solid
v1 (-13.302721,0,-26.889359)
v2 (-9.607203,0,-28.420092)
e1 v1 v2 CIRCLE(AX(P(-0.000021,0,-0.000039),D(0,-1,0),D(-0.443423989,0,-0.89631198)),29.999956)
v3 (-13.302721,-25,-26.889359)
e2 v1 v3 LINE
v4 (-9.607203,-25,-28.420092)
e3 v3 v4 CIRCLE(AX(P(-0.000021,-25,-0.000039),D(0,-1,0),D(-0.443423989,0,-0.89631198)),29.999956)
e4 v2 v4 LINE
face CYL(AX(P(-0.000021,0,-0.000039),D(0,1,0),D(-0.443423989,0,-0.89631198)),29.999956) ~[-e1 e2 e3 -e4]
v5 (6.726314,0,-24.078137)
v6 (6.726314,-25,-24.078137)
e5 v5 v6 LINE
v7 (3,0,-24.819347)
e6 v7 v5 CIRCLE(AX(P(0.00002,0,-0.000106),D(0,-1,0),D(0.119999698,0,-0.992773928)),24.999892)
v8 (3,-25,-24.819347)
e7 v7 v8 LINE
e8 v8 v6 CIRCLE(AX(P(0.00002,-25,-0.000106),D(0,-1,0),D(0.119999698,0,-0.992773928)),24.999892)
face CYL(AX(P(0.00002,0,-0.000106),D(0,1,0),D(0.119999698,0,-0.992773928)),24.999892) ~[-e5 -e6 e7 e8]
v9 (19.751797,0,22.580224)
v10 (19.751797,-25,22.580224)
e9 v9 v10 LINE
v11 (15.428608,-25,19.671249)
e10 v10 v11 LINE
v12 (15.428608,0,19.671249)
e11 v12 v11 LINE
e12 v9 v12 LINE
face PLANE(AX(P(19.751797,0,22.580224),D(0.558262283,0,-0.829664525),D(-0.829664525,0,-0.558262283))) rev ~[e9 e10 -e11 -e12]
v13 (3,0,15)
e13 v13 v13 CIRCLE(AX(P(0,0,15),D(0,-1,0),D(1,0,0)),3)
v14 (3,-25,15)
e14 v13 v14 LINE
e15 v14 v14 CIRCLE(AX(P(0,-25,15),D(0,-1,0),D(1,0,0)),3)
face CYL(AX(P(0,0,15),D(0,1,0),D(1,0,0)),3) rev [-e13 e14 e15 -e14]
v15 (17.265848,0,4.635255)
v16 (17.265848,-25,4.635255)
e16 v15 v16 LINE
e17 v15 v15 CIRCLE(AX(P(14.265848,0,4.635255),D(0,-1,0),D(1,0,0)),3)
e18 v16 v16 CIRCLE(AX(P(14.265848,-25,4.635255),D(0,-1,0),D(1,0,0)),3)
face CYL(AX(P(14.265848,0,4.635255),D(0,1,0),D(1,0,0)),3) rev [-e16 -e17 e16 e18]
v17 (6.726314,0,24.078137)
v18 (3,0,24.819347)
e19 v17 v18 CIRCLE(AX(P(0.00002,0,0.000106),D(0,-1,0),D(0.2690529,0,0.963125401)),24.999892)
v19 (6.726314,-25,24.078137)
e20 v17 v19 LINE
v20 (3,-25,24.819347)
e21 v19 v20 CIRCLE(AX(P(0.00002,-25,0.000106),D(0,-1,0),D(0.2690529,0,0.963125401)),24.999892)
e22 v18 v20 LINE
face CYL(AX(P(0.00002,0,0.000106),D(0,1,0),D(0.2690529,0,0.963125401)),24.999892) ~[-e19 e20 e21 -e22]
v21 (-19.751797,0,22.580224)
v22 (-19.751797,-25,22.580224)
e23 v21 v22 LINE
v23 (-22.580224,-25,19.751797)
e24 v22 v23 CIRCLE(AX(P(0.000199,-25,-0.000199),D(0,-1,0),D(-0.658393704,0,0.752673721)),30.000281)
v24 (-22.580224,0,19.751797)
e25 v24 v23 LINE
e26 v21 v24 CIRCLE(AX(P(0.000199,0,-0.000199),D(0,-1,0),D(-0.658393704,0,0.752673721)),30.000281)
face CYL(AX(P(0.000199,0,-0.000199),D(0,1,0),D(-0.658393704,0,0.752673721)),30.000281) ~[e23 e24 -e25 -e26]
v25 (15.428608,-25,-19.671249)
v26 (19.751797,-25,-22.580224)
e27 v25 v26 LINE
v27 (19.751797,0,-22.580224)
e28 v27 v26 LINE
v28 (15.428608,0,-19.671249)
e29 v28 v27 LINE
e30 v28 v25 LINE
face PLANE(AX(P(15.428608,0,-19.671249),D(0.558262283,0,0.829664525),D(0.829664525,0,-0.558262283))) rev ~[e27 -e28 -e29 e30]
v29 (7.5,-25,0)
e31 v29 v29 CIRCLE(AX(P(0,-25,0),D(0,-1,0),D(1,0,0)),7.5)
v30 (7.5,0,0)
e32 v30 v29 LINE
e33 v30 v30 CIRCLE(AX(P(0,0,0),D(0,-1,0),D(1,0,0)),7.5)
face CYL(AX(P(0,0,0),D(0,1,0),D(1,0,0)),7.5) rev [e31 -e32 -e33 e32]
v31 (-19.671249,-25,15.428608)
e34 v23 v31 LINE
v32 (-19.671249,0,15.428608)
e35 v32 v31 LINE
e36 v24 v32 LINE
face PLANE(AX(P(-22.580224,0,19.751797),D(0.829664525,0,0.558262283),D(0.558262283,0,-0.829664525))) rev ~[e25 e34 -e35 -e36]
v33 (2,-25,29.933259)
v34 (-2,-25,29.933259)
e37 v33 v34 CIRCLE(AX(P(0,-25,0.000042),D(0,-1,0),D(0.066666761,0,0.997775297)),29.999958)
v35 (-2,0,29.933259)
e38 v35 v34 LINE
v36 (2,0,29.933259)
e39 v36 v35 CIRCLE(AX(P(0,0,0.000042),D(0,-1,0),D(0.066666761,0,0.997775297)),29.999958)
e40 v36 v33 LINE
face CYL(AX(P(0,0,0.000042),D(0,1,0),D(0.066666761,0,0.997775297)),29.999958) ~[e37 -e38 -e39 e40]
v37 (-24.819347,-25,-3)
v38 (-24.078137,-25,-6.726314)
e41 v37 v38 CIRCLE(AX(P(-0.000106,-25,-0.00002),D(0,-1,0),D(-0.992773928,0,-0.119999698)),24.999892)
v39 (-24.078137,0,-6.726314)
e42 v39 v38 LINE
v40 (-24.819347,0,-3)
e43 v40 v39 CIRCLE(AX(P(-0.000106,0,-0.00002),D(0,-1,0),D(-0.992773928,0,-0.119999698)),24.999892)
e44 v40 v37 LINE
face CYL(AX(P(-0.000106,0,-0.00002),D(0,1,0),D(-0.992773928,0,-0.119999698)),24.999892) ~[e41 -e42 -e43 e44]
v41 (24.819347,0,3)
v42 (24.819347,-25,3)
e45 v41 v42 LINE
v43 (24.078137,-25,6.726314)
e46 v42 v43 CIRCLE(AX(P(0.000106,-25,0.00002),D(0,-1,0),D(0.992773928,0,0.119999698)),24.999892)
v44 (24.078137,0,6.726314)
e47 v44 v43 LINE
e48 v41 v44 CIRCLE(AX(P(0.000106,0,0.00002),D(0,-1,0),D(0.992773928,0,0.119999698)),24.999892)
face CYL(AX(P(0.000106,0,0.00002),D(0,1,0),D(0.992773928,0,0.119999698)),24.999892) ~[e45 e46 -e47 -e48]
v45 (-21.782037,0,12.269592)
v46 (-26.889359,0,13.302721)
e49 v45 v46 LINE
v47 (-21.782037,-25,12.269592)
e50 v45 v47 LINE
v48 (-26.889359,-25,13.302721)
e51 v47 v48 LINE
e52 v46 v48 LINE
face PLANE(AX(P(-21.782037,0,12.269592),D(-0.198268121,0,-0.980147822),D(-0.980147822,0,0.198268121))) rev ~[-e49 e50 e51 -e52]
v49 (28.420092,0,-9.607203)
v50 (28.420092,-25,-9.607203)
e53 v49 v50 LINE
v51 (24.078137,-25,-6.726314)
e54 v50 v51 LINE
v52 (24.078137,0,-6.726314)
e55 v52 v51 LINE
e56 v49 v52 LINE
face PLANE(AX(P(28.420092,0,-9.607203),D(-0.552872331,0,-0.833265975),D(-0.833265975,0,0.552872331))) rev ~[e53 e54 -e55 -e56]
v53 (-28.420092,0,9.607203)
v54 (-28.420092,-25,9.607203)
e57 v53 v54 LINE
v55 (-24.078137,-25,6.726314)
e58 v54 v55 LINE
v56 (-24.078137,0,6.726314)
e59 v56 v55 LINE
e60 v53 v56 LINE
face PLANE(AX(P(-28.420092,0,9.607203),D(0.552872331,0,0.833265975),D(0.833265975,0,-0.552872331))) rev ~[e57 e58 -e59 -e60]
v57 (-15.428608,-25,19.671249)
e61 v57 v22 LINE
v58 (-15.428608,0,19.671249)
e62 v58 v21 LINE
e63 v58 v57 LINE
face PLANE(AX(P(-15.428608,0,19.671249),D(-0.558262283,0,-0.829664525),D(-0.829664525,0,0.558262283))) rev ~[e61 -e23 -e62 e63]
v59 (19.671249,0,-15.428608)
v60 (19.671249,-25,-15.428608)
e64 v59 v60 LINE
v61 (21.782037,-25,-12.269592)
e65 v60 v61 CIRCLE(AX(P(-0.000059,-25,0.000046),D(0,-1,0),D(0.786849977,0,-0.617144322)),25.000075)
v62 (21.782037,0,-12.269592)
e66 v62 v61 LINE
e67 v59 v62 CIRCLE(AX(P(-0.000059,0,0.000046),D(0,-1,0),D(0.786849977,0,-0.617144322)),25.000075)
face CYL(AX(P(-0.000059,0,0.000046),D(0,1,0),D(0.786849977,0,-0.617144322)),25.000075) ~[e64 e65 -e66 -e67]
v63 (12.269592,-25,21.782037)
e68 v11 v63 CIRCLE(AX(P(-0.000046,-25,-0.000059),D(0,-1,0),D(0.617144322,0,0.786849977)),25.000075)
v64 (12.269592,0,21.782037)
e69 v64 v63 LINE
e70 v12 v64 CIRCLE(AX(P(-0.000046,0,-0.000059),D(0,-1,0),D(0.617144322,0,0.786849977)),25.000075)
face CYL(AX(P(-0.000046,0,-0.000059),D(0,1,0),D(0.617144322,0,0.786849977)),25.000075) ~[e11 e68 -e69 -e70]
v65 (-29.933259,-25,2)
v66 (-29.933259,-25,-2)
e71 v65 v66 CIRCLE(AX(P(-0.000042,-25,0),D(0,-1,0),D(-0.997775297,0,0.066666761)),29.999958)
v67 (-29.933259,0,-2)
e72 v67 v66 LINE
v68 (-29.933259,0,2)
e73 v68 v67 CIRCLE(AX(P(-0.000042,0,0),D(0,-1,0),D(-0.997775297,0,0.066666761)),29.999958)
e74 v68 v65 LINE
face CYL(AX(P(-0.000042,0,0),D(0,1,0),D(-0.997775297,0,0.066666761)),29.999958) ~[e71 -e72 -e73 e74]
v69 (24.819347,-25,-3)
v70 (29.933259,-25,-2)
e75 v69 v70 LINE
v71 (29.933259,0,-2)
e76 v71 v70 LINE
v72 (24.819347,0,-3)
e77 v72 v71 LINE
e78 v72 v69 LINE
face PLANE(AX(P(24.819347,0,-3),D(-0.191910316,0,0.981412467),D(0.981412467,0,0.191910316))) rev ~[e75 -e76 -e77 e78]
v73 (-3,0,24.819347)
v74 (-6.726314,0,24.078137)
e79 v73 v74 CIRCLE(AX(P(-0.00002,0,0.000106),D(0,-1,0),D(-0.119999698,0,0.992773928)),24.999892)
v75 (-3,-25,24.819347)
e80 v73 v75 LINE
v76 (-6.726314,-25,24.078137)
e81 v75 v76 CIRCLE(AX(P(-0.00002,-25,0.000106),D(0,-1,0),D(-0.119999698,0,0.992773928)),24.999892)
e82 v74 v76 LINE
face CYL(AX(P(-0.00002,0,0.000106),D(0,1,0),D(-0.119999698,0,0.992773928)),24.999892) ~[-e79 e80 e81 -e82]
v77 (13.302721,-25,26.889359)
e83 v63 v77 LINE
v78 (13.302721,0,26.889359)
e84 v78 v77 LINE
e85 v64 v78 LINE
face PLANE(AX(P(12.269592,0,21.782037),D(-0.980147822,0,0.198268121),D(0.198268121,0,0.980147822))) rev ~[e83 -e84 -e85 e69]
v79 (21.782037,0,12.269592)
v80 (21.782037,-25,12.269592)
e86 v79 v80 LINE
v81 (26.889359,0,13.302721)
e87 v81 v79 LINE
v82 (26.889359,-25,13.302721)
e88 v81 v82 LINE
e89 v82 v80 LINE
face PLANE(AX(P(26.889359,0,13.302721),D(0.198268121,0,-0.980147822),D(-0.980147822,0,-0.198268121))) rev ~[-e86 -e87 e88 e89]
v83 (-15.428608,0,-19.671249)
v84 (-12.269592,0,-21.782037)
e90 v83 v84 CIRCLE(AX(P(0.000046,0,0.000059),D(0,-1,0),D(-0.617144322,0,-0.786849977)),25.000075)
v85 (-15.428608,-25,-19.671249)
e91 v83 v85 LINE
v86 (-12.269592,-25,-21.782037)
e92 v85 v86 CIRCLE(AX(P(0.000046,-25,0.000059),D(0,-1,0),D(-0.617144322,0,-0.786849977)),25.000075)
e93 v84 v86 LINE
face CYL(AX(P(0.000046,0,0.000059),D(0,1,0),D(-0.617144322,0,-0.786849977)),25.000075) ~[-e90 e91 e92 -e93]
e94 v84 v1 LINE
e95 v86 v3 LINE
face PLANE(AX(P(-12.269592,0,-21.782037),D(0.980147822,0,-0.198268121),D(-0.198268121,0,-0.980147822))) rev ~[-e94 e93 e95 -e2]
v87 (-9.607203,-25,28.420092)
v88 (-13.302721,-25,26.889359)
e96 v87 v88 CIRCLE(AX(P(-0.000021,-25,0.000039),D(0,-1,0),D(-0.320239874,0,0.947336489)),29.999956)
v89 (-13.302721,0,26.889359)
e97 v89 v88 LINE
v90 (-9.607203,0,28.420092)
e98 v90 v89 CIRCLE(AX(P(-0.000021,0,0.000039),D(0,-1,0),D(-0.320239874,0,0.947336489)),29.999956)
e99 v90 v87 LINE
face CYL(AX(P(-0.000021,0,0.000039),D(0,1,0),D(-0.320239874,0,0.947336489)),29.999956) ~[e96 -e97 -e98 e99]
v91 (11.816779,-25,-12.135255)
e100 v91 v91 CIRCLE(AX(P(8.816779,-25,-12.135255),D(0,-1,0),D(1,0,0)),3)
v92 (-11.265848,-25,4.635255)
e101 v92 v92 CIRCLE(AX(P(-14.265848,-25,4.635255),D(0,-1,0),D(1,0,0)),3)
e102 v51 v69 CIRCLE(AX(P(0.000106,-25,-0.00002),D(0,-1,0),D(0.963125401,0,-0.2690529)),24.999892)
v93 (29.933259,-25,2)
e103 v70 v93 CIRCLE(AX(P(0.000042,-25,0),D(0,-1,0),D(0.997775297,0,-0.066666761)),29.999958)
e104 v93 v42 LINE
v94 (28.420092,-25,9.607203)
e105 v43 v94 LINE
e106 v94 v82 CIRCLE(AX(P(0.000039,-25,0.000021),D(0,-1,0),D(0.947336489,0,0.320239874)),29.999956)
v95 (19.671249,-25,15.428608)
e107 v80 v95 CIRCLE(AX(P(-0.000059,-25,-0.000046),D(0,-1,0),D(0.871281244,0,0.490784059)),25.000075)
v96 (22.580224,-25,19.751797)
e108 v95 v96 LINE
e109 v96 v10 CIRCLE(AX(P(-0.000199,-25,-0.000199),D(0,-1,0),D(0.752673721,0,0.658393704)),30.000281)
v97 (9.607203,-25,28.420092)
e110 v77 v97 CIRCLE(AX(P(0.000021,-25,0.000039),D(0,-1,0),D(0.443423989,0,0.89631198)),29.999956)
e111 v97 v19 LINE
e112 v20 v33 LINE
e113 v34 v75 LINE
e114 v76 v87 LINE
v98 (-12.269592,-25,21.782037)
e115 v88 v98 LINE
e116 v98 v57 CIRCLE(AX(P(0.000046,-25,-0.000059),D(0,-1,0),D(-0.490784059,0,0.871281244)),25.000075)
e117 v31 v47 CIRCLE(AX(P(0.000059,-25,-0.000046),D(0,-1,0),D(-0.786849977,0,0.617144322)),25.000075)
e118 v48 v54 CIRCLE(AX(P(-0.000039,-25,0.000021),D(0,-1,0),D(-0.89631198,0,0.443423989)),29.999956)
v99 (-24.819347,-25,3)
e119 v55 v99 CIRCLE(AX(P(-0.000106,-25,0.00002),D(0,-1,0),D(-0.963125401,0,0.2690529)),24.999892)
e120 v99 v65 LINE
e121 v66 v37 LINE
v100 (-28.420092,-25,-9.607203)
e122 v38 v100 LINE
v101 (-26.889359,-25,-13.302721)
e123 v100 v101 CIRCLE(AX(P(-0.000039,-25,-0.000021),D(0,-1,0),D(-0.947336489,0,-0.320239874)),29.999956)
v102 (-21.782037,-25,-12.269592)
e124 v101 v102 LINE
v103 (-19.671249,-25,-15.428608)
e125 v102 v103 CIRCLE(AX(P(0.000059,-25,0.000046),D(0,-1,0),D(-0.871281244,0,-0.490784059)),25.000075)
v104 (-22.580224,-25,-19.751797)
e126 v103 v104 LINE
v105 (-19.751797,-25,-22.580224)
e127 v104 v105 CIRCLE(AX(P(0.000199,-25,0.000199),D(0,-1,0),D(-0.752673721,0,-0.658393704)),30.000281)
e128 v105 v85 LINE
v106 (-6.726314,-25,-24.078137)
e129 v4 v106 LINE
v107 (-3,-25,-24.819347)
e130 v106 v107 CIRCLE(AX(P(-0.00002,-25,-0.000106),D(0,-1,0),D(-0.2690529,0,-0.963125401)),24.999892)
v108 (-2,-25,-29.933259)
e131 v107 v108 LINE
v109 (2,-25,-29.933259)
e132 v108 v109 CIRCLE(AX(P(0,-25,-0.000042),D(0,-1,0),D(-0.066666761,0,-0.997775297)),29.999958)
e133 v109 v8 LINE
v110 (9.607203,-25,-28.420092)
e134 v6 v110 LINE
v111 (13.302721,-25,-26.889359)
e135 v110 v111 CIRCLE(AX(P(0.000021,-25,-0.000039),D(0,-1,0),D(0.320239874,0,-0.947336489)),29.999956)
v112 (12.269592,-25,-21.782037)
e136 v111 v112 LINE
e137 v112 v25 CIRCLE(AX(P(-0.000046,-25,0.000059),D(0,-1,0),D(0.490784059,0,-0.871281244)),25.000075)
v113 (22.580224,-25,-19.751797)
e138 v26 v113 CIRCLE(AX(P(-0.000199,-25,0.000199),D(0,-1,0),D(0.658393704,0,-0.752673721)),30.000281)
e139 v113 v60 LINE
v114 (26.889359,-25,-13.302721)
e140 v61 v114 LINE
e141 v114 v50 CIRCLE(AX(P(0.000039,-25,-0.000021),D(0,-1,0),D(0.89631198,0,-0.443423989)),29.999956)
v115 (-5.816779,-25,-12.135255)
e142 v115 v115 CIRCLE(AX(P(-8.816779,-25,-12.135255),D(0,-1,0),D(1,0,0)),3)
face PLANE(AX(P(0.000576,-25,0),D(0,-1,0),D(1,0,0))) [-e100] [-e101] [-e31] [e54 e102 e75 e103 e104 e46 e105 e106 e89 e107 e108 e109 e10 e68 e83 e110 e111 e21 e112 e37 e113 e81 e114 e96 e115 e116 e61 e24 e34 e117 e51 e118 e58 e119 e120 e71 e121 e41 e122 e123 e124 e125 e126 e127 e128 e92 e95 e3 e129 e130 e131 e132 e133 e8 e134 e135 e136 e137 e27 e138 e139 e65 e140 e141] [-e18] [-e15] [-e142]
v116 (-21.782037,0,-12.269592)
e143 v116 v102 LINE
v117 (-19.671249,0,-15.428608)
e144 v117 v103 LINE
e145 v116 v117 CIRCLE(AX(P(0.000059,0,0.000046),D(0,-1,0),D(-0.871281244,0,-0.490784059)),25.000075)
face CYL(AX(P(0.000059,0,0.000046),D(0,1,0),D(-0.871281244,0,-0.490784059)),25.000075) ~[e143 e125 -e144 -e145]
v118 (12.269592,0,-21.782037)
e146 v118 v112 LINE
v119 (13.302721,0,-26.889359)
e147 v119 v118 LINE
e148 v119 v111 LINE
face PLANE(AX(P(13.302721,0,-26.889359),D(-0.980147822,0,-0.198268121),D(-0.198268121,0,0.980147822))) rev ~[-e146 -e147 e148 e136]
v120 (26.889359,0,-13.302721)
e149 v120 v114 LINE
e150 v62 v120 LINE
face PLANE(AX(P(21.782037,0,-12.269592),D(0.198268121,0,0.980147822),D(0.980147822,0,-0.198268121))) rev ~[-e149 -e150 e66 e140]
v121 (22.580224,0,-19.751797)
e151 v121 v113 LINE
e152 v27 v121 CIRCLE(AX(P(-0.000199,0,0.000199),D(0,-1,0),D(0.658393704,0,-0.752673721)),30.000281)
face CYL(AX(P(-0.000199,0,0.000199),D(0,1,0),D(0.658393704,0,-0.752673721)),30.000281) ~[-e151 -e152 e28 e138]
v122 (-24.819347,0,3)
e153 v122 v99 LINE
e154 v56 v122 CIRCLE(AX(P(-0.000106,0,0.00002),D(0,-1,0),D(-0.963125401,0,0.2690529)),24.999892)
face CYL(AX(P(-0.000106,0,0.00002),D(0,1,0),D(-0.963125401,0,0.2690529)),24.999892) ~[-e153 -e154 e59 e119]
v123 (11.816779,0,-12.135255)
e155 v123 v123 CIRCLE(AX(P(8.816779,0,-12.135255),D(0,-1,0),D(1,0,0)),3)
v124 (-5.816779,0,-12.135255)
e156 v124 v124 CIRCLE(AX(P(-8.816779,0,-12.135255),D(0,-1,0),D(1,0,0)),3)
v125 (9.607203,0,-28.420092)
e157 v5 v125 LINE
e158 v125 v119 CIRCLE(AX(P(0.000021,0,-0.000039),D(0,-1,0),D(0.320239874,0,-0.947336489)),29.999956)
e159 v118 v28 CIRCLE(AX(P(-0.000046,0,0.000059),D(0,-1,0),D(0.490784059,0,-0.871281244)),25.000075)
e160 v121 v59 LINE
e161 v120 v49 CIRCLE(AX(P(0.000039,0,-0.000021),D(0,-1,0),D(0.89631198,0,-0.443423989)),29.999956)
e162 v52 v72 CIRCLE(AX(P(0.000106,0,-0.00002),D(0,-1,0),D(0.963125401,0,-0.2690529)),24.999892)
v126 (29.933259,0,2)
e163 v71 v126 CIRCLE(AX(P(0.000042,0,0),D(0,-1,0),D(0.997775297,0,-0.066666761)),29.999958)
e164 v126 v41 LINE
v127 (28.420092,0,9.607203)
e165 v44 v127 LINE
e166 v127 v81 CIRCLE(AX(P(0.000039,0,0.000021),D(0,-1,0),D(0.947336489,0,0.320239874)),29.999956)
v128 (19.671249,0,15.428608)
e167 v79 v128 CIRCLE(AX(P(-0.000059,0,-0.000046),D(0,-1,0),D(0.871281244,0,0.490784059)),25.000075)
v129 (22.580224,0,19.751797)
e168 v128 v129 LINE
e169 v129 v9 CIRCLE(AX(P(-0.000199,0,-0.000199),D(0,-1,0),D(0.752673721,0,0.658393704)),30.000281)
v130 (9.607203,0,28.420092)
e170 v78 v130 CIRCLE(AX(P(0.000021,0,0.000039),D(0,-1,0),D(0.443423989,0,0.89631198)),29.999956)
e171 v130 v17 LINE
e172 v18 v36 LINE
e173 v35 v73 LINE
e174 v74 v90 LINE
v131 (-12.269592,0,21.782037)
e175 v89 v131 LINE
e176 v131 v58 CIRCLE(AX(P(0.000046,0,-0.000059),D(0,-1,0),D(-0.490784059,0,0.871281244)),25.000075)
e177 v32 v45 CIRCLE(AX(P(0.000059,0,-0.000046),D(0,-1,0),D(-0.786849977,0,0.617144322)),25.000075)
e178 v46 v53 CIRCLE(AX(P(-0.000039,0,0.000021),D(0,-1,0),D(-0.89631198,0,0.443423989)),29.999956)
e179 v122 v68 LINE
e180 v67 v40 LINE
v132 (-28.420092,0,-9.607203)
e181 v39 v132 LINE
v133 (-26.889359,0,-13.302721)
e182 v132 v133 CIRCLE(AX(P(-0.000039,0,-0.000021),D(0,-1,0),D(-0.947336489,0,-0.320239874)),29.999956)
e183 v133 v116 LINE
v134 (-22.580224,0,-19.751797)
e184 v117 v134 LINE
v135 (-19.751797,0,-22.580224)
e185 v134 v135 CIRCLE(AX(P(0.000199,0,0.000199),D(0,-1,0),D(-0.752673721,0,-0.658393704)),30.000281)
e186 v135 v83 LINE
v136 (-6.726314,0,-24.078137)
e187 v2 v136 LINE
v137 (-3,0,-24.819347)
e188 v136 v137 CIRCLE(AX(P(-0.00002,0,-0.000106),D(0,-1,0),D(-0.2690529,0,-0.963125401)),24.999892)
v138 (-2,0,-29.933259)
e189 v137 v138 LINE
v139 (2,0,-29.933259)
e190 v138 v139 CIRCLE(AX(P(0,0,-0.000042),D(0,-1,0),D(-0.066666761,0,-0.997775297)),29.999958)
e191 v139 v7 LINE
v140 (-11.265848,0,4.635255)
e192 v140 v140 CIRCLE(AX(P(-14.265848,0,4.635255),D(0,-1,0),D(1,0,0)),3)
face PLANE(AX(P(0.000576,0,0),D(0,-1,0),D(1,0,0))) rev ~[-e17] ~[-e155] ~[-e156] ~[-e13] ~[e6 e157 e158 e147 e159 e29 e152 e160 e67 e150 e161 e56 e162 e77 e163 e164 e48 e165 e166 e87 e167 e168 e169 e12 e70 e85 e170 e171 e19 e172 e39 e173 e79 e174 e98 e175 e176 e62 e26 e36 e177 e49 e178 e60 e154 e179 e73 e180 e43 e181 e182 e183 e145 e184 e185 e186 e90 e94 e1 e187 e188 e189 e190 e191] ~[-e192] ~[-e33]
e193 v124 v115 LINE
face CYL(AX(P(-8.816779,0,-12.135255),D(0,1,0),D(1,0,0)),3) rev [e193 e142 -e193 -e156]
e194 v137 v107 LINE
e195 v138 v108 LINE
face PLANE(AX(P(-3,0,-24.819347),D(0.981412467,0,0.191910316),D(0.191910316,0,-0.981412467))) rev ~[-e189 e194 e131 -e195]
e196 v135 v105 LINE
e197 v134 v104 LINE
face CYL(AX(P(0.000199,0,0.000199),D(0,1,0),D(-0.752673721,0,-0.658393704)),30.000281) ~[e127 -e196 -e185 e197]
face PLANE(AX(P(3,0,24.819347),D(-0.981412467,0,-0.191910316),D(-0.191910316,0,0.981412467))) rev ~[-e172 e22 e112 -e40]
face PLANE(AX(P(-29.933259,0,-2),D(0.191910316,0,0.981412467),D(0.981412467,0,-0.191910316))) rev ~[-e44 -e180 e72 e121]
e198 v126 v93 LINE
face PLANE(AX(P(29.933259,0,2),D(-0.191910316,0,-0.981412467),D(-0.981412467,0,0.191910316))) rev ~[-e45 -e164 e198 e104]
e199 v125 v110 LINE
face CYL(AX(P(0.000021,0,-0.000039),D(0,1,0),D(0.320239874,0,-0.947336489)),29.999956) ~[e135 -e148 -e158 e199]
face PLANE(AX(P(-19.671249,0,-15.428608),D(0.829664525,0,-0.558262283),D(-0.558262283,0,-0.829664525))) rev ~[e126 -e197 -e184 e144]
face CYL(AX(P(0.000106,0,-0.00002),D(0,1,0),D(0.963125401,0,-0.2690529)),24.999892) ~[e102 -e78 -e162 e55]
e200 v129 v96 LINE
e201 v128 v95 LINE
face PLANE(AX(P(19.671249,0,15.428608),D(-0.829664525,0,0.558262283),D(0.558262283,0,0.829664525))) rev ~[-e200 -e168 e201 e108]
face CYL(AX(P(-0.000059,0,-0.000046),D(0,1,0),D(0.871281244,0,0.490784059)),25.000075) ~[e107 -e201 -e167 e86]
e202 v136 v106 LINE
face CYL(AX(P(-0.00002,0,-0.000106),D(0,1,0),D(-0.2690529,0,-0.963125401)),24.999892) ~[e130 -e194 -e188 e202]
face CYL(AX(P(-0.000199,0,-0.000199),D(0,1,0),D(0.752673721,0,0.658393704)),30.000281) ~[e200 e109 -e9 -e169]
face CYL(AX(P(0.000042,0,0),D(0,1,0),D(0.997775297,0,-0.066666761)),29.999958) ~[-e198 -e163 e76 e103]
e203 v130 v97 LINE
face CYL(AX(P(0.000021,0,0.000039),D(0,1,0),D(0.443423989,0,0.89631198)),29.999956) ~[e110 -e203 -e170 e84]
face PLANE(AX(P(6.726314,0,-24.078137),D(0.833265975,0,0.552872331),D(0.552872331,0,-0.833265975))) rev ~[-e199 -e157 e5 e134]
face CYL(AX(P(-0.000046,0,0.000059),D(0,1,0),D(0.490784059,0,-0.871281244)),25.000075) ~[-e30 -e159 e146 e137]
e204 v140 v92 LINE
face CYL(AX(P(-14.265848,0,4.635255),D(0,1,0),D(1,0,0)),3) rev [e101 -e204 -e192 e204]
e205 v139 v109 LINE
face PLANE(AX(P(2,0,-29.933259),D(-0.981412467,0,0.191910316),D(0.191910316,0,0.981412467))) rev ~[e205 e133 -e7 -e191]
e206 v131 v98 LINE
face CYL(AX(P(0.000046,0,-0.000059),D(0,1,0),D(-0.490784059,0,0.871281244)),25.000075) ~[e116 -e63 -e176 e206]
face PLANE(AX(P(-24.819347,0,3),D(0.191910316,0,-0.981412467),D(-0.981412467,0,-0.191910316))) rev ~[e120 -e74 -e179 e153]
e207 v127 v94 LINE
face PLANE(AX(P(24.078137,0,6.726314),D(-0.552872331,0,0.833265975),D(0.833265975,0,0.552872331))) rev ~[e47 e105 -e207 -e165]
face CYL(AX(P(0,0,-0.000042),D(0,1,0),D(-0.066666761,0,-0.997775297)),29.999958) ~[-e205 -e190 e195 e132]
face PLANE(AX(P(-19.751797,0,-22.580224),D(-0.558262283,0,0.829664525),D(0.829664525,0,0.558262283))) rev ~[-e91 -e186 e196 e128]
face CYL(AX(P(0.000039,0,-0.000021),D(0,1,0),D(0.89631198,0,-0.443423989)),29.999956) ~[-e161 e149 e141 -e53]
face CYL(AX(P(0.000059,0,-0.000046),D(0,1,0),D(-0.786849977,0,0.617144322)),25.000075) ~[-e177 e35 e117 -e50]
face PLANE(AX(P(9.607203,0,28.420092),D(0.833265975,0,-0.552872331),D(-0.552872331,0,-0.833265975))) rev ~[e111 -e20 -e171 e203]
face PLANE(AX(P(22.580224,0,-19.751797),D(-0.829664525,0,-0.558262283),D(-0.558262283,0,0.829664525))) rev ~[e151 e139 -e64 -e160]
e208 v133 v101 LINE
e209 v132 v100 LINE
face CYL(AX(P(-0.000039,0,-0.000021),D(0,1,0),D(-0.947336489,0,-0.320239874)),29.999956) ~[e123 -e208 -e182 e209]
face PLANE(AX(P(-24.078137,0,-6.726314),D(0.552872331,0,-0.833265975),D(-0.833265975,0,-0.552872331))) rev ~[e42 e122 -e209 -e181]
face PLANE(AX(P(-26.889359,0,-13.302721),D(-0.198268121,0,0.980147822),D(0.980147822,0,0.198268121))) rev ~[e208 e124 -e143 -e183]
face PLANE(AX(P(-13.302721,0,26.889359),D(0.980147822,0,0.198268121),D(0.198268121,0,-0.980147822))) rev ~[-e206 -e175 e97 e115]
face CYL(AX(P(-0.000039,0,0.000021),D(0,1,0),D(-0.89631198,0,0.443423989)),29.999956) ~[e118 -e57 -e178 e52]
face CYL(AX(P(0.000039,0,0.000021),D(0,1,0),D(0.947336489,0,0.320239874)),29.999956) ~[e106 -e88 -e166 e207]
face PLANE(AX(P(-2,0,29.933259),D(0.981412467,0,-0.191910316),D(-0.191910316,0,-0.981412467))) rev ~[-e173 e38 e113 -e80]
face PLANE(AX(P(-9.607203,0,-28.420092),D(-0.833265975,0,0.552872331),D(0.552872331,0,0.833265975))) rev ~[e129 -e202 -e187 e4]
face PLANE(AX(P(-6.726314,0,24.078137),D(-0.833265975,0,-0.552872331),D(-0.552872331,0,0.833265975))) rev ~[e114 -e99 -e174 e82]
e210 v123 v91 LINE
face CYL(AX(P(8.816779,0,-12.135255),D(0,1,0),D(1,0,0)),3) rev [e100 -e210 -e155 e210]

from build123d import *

# Parameters (mm, degrees)
F0_R     = 3
F0_R_2   = 7.5
F1_DEPTH = 25


with BuildPart() as f1:
    # F0 (on Front) → F1 (new body)
    with BuildSketch(Plane.XZ):
        with BuildLine():
            ThreePointArc((24.819347, -3), (24.954796, -1.502717), (25, 0))
            ThreePointArc((25, 0), (24.954796, 1.502717), (24.819347, 3))
            ThreePointArc((24.819347, 3), (24.519632, 4.877258), (24.078137, 6.726314))
            ThreePointArc((24.078137, 6.726314), (23.096988, 9.567086), (21.782037, 12.269592))
            ThreePointArc((21.782037, 12.269592), (20.78674, 13.889256), (19.671249, 15.428608))
            ThreePointArc((19.671249, 15.428608), (17.67767, 17.67767), (15.428608, 19.671249))
            ThreePointArc((15.428608, 19.671249), (13.889256, 20.78674), (12.269592, 21.782037))
            ThreePointArc((12.269592, 21.782037), (9.567086, 23.096988), (6.726314, 24.078137))
            ThreePointArc((6.726314, 24.078137), (4.877258, 24.519632), (3, 24.819347))
            ThreePointArc((3, 24.819347), (0, 25), (-3, 24.819347))
            ThreePointArc((-3, 24.819347), (-4.877258, 24.519632), (-6.726314, 24.078137))
            ThreePointArc((-6.726314, 24.078137), (-9.567086, 23.096988), (-12.269592, 21.782037))
            ThreePointArc((-12.269592, 21.782037), (-13.889256, 20.78674), (-15.428608, 19.671249))
            ThreePointArc((-15.428608, 19.671249), (-17.67767, 17.67767), (-19.671249, 15.428608))
            ThreePointArc((-19.671249, 15.428608), (-20.78674, 13.889256), (-21.782037, 12.269592))
            ThreePointArc((-21.782037, 12.269592), (-23.096988, 9.567086), (-24.078137, 6.726314))
            ThreePointArc((-24.078137, 6.726314), (-24.519632, 4.877258), (-24.819347, 3))
            ThreePointArc((-24.819347, 3), (-25, 0), (-24.819347, -3))
            ThreePointArc((-24.819347, -3), (-24.519632, -4.877258), (-24.078137, -6.726314))
            ThreePointArc((-24.078137, -6.726314), (-23.096988, -9.567086), (-21.782037, -12.269592))
            ThreePointArc((-21.782037, -12.269592), (-20.78674, -13.889256), (-19.671249, -15.428608))
            ThreePointArc((-19.671249, -15.428608), (-17.67767, -17.67767), (-15.428608, -19.671249))
            ThreePointArc((-15.428608, -19.671249), (-13.889256, -20.78674), (-12.269592, -21.782037))
            ThreePointArc((-12.269592, -21.782037), (-9.567086, -23.096988), (-6.726314, -24.078137))
            ThreePointArc((-6.726314, -24.078137), (-4.877258, -24.519632), (-3, -24.819347))
            ThreePointArc((-3, -24.819347), (0, -25), (3, -24.819347))
            ThreePointArc((3, -24.819347), (4.877258, -24.519632), (6.726314, -24.078137))
            ThreePointArc((6.726314, -24.078137), (9.567086, -23.096988), (12.269592, -21.782037))
            ThreePointArc((12.269592, -21.782037), (13.889256, -20.78674), (15.428608, -19.671249))
            ThreePointArc((15.428608, -19.671249), (17.67767, -17.67767), (19.671249, -15.428608))
            ThreePointArc((19.671249, -15.428608), (20.78674, -13.889256), (21.782037, -12.269592))
            ThreePointArc((21.782037, -12.269592), (23.096988, -9.567086), (24.078137, -6.726314))
            ThreePointArc((24.078137, -6.726314), (24.519632, -4.877258), (24.819347, -3))
        make_face()
        with Locations((-8.816779, -12.135255)):
            Circle(F0_R, mode=Mode.SUBTRACT)
        with Locations((8.816779, -12.135255)):
            Circle(F0_R, mode=Mode.SUBTRACT)
        with Locations((-14.265848, 4.635255)):
            Circle(F0_R, mode=Mode.SUBTRACT)
        Circle(F0_R_2, mode=Mode.SUBTRACT)
        with Locations((14.265848, 4.635255)):
            Circle(F0_R, mode=Mode.SUBTRACT)
        with Locations((0, 15)):
            Circle(F0_R, mode=Mode.SUBTRACT)
        with BuildLine():
            ThreePointArc((24.819347, 3), (24.954796, 1.502717), (25, 0))
            ThreePointArc((25, 0), (24.954796, -1.502717), (24.819347, -3))
            Line((24.819347, -3), (29.933259, -2))
            ThreePointArc((29.933259, -2), (30, 0), (29.933259, 2))
            Line((29.933259, 2), (24.819347, 3))
        make_face()
        with BuildLine():
            ThreePointArc((21.782037, 12.269592), (23.096988, 9.567086), (24.078137, 6.726314))
            Line((24.078137, 6.726314), (28.420092, 9.607203))
            ThreePointArc((28.420092, 9.607203), (27.716386, 11.480503), (26.889359, 13.302721))
            Line((26.889359, 13.302721), (21.782037, 12.269592))
        make_face()
        with BuildLine():
            Line((28.420092, -9.607203), (24.078137, -6.726314))
            ThreePointArc((24.078137, -6.726314), (23.096988, -9.567086), (21.782037, -12.269592))
            Line((21.782037, -12.269592), (26.889359, -13.302721))
            ThreePointArc((26.889359, -13.302721), (27.716386, -11.480503), (28.420092, -9.607203))
        make_face()
        with BuildLine():
            ThreePointArc((15.428608, 19.671249), (17.67767, 17.67767), (19.671249, 15.428608))
            Line((19.671249, 15.428608), (22.580224, 19.751797))
            ThreePointArc((22.580224, 19.751797), (21.213203, 21.213203), (19.751797, 22.580224))
            Line((19.751797, 22.580224), (15.428608, 19.671249))
        make_face()
        with BuildLine():
            Line((22.580224, -19.751797), (19.671249, -15.428608))
            ThreePointArc((19.671249, -15.428608), (17.67767, -17.67767), (15.428608, -19.671249))
            Line((15.428608, -19.671249), (19.751797, -22.580224))
            ThreePointArc((19.751797, -22.580224), (21.213203, -21.213203), (22.580224, -19.751797))
        make_face()
        with BuildLine():
            ThreePointArc((6.726314, 24.078137), (9.567086, 23.096988), (12.269592, 21.782037))
            Line((12.269592, 21.782037), (13.302721, 26.889359))
            ThreePointArc((13.302721, 26.889359), (11.480503, 27.716386), (9.607203, 28.420092))
            Line((9.607203, 28.420092), (6.726314, 24.078137))
        make_face()
        with BuildLine():
            Line((13.302721, -26.889359), (12.269592, -21.782037))
            ThreePointArc((12.269592, -21.782037), (9.567086, -23.096988), (6.726314, -24.078137))
            Line((6.726314, -24.078137), (9.607203, -28.420092))
            ThreePointArc((9.607203, -28.420092), (11.480503, -27.716386), (13.302721, -26.889359))
        make_face()
        with BuildLine():
            ThreePointArc((-3, 24.819347), (0, 25), (3, 24.819347))
            Line((3, 24.819347), (2, 29.933259))
            ThreePointArc((2, 29.933259), (0, 30), (-2, 29.933259))
            Line((-2, 29.933259), (-3, 24.819347))
        make_face()
        with BuildLine():
            Line((2, -29.933259), (3, -24.819347))
            ThreePointArc((3, -24.819347), (0, -25), (-3, -24.819347))
            Line((-3, -24.819347), (-2, -29.933259))
            ThreePointArc((-2, -29.933259), (0, -30), (2, -29.933259))
        make_face()
        with BuildLine():
            ThreePointArc((-12.269592, 21.782037), (-9.567086, 23.096988), (-6.726314, 24.078137))
            Line((-6.726314, 24.078137), (-9.607203, 28.420092))
            ThreePointArc((-9.607203, 28.420092), (-11.480503, 27.716386), (-13.302721, 26.889359))
            Line((-13.302721, 26.889359), (-12.269592, 21.782037))
        make_face()
        with BuildLine():
            Line((-9.607203, -28.420092), (-6.726314, -24.078137))
            ThreePointArc((-6.726314, -24.078137), (-9.567086, -23.096988), (-12.269592, -21.782037))
            Line((-12.269592, -21.782037), (-13.302721, -26.889359))
            ThreePointArc((-13.302721, -26.889359), (-11.480503, -27.716386), (-9.607203, -28.420092))
        make_face()
        with BuildLine():
            ThreePointArc((-19.671249, 15.428608), (-17.67767, 17.67767), (-15.428608, 19.671249))
            Line((-15.428608, 19.671249), (-19.751797, 22.580224))
            ThreePointArc((-19.751797, 22.580224), (-21.213203, 21.213203), (-22.580224, 19.751797))
            Line((-22.580224, 19.751797), (-19.671249, 15.428608))
        make_face()
        with BuildLine():
            Line((-19.751797, -22.580224), (-15.428608, -19.671249))
            ThreePointArc((-15.428608, -19.671249), (-17.67767, -17.67767), (-19.671249, -15.428608))
            Line((-19.671249, -15.428608), (-22.580224, -19.751797))
            ThreePointArc((-22.580224, -19.751797), (-21.213203, -21.213203), (-19.751797, -22.580224))
        make_face()
        with BuildLine():
            ThreePointArc((-24.078137, 6.726314), (-23.096988, 9.567086), (-21.782037, 12.269592))
            Line((-21.782037, 12.269592), (-26.889359, 13.302721))
            ThreePointArc((-26.889359, 13.302721), (-27.716386, 11.480503), (-28.420092, 9.607203))
            Line((-28.420092, 9.607203), (-24.078137, 6.726314))
        make_face()
        with BuildLine():
            Line((-26.889359, -13.302721), (-21.782037, -12.269592))
            ThreePointArc((-21.782037, -12.269592), (-23.096988, -9.567086), (-24.078137, -6.726314))
            Line((-24.078137, -6.726314), (-28.420092, -9.607203))
            ThreePointArc((-28.420092, -9.607203), (-27.716386, -11.480503), (-26.889359, -13.302721))
        make_face()
        with BuildLine():
            ThreePointArc((-24.819347, -3), (-25, 0), (-24.819347, 3))
            Line((-24.819347, 3), (-29.933259, 2))
            ThreePointArc((-29.933259, 2), (-30, 0), (-29.933259, -2))
            Line((-29.933259, -2), (-24.819347, -3))
        make_face()
    extrude(amount=F1_DEPTH)


solid = f1.part
